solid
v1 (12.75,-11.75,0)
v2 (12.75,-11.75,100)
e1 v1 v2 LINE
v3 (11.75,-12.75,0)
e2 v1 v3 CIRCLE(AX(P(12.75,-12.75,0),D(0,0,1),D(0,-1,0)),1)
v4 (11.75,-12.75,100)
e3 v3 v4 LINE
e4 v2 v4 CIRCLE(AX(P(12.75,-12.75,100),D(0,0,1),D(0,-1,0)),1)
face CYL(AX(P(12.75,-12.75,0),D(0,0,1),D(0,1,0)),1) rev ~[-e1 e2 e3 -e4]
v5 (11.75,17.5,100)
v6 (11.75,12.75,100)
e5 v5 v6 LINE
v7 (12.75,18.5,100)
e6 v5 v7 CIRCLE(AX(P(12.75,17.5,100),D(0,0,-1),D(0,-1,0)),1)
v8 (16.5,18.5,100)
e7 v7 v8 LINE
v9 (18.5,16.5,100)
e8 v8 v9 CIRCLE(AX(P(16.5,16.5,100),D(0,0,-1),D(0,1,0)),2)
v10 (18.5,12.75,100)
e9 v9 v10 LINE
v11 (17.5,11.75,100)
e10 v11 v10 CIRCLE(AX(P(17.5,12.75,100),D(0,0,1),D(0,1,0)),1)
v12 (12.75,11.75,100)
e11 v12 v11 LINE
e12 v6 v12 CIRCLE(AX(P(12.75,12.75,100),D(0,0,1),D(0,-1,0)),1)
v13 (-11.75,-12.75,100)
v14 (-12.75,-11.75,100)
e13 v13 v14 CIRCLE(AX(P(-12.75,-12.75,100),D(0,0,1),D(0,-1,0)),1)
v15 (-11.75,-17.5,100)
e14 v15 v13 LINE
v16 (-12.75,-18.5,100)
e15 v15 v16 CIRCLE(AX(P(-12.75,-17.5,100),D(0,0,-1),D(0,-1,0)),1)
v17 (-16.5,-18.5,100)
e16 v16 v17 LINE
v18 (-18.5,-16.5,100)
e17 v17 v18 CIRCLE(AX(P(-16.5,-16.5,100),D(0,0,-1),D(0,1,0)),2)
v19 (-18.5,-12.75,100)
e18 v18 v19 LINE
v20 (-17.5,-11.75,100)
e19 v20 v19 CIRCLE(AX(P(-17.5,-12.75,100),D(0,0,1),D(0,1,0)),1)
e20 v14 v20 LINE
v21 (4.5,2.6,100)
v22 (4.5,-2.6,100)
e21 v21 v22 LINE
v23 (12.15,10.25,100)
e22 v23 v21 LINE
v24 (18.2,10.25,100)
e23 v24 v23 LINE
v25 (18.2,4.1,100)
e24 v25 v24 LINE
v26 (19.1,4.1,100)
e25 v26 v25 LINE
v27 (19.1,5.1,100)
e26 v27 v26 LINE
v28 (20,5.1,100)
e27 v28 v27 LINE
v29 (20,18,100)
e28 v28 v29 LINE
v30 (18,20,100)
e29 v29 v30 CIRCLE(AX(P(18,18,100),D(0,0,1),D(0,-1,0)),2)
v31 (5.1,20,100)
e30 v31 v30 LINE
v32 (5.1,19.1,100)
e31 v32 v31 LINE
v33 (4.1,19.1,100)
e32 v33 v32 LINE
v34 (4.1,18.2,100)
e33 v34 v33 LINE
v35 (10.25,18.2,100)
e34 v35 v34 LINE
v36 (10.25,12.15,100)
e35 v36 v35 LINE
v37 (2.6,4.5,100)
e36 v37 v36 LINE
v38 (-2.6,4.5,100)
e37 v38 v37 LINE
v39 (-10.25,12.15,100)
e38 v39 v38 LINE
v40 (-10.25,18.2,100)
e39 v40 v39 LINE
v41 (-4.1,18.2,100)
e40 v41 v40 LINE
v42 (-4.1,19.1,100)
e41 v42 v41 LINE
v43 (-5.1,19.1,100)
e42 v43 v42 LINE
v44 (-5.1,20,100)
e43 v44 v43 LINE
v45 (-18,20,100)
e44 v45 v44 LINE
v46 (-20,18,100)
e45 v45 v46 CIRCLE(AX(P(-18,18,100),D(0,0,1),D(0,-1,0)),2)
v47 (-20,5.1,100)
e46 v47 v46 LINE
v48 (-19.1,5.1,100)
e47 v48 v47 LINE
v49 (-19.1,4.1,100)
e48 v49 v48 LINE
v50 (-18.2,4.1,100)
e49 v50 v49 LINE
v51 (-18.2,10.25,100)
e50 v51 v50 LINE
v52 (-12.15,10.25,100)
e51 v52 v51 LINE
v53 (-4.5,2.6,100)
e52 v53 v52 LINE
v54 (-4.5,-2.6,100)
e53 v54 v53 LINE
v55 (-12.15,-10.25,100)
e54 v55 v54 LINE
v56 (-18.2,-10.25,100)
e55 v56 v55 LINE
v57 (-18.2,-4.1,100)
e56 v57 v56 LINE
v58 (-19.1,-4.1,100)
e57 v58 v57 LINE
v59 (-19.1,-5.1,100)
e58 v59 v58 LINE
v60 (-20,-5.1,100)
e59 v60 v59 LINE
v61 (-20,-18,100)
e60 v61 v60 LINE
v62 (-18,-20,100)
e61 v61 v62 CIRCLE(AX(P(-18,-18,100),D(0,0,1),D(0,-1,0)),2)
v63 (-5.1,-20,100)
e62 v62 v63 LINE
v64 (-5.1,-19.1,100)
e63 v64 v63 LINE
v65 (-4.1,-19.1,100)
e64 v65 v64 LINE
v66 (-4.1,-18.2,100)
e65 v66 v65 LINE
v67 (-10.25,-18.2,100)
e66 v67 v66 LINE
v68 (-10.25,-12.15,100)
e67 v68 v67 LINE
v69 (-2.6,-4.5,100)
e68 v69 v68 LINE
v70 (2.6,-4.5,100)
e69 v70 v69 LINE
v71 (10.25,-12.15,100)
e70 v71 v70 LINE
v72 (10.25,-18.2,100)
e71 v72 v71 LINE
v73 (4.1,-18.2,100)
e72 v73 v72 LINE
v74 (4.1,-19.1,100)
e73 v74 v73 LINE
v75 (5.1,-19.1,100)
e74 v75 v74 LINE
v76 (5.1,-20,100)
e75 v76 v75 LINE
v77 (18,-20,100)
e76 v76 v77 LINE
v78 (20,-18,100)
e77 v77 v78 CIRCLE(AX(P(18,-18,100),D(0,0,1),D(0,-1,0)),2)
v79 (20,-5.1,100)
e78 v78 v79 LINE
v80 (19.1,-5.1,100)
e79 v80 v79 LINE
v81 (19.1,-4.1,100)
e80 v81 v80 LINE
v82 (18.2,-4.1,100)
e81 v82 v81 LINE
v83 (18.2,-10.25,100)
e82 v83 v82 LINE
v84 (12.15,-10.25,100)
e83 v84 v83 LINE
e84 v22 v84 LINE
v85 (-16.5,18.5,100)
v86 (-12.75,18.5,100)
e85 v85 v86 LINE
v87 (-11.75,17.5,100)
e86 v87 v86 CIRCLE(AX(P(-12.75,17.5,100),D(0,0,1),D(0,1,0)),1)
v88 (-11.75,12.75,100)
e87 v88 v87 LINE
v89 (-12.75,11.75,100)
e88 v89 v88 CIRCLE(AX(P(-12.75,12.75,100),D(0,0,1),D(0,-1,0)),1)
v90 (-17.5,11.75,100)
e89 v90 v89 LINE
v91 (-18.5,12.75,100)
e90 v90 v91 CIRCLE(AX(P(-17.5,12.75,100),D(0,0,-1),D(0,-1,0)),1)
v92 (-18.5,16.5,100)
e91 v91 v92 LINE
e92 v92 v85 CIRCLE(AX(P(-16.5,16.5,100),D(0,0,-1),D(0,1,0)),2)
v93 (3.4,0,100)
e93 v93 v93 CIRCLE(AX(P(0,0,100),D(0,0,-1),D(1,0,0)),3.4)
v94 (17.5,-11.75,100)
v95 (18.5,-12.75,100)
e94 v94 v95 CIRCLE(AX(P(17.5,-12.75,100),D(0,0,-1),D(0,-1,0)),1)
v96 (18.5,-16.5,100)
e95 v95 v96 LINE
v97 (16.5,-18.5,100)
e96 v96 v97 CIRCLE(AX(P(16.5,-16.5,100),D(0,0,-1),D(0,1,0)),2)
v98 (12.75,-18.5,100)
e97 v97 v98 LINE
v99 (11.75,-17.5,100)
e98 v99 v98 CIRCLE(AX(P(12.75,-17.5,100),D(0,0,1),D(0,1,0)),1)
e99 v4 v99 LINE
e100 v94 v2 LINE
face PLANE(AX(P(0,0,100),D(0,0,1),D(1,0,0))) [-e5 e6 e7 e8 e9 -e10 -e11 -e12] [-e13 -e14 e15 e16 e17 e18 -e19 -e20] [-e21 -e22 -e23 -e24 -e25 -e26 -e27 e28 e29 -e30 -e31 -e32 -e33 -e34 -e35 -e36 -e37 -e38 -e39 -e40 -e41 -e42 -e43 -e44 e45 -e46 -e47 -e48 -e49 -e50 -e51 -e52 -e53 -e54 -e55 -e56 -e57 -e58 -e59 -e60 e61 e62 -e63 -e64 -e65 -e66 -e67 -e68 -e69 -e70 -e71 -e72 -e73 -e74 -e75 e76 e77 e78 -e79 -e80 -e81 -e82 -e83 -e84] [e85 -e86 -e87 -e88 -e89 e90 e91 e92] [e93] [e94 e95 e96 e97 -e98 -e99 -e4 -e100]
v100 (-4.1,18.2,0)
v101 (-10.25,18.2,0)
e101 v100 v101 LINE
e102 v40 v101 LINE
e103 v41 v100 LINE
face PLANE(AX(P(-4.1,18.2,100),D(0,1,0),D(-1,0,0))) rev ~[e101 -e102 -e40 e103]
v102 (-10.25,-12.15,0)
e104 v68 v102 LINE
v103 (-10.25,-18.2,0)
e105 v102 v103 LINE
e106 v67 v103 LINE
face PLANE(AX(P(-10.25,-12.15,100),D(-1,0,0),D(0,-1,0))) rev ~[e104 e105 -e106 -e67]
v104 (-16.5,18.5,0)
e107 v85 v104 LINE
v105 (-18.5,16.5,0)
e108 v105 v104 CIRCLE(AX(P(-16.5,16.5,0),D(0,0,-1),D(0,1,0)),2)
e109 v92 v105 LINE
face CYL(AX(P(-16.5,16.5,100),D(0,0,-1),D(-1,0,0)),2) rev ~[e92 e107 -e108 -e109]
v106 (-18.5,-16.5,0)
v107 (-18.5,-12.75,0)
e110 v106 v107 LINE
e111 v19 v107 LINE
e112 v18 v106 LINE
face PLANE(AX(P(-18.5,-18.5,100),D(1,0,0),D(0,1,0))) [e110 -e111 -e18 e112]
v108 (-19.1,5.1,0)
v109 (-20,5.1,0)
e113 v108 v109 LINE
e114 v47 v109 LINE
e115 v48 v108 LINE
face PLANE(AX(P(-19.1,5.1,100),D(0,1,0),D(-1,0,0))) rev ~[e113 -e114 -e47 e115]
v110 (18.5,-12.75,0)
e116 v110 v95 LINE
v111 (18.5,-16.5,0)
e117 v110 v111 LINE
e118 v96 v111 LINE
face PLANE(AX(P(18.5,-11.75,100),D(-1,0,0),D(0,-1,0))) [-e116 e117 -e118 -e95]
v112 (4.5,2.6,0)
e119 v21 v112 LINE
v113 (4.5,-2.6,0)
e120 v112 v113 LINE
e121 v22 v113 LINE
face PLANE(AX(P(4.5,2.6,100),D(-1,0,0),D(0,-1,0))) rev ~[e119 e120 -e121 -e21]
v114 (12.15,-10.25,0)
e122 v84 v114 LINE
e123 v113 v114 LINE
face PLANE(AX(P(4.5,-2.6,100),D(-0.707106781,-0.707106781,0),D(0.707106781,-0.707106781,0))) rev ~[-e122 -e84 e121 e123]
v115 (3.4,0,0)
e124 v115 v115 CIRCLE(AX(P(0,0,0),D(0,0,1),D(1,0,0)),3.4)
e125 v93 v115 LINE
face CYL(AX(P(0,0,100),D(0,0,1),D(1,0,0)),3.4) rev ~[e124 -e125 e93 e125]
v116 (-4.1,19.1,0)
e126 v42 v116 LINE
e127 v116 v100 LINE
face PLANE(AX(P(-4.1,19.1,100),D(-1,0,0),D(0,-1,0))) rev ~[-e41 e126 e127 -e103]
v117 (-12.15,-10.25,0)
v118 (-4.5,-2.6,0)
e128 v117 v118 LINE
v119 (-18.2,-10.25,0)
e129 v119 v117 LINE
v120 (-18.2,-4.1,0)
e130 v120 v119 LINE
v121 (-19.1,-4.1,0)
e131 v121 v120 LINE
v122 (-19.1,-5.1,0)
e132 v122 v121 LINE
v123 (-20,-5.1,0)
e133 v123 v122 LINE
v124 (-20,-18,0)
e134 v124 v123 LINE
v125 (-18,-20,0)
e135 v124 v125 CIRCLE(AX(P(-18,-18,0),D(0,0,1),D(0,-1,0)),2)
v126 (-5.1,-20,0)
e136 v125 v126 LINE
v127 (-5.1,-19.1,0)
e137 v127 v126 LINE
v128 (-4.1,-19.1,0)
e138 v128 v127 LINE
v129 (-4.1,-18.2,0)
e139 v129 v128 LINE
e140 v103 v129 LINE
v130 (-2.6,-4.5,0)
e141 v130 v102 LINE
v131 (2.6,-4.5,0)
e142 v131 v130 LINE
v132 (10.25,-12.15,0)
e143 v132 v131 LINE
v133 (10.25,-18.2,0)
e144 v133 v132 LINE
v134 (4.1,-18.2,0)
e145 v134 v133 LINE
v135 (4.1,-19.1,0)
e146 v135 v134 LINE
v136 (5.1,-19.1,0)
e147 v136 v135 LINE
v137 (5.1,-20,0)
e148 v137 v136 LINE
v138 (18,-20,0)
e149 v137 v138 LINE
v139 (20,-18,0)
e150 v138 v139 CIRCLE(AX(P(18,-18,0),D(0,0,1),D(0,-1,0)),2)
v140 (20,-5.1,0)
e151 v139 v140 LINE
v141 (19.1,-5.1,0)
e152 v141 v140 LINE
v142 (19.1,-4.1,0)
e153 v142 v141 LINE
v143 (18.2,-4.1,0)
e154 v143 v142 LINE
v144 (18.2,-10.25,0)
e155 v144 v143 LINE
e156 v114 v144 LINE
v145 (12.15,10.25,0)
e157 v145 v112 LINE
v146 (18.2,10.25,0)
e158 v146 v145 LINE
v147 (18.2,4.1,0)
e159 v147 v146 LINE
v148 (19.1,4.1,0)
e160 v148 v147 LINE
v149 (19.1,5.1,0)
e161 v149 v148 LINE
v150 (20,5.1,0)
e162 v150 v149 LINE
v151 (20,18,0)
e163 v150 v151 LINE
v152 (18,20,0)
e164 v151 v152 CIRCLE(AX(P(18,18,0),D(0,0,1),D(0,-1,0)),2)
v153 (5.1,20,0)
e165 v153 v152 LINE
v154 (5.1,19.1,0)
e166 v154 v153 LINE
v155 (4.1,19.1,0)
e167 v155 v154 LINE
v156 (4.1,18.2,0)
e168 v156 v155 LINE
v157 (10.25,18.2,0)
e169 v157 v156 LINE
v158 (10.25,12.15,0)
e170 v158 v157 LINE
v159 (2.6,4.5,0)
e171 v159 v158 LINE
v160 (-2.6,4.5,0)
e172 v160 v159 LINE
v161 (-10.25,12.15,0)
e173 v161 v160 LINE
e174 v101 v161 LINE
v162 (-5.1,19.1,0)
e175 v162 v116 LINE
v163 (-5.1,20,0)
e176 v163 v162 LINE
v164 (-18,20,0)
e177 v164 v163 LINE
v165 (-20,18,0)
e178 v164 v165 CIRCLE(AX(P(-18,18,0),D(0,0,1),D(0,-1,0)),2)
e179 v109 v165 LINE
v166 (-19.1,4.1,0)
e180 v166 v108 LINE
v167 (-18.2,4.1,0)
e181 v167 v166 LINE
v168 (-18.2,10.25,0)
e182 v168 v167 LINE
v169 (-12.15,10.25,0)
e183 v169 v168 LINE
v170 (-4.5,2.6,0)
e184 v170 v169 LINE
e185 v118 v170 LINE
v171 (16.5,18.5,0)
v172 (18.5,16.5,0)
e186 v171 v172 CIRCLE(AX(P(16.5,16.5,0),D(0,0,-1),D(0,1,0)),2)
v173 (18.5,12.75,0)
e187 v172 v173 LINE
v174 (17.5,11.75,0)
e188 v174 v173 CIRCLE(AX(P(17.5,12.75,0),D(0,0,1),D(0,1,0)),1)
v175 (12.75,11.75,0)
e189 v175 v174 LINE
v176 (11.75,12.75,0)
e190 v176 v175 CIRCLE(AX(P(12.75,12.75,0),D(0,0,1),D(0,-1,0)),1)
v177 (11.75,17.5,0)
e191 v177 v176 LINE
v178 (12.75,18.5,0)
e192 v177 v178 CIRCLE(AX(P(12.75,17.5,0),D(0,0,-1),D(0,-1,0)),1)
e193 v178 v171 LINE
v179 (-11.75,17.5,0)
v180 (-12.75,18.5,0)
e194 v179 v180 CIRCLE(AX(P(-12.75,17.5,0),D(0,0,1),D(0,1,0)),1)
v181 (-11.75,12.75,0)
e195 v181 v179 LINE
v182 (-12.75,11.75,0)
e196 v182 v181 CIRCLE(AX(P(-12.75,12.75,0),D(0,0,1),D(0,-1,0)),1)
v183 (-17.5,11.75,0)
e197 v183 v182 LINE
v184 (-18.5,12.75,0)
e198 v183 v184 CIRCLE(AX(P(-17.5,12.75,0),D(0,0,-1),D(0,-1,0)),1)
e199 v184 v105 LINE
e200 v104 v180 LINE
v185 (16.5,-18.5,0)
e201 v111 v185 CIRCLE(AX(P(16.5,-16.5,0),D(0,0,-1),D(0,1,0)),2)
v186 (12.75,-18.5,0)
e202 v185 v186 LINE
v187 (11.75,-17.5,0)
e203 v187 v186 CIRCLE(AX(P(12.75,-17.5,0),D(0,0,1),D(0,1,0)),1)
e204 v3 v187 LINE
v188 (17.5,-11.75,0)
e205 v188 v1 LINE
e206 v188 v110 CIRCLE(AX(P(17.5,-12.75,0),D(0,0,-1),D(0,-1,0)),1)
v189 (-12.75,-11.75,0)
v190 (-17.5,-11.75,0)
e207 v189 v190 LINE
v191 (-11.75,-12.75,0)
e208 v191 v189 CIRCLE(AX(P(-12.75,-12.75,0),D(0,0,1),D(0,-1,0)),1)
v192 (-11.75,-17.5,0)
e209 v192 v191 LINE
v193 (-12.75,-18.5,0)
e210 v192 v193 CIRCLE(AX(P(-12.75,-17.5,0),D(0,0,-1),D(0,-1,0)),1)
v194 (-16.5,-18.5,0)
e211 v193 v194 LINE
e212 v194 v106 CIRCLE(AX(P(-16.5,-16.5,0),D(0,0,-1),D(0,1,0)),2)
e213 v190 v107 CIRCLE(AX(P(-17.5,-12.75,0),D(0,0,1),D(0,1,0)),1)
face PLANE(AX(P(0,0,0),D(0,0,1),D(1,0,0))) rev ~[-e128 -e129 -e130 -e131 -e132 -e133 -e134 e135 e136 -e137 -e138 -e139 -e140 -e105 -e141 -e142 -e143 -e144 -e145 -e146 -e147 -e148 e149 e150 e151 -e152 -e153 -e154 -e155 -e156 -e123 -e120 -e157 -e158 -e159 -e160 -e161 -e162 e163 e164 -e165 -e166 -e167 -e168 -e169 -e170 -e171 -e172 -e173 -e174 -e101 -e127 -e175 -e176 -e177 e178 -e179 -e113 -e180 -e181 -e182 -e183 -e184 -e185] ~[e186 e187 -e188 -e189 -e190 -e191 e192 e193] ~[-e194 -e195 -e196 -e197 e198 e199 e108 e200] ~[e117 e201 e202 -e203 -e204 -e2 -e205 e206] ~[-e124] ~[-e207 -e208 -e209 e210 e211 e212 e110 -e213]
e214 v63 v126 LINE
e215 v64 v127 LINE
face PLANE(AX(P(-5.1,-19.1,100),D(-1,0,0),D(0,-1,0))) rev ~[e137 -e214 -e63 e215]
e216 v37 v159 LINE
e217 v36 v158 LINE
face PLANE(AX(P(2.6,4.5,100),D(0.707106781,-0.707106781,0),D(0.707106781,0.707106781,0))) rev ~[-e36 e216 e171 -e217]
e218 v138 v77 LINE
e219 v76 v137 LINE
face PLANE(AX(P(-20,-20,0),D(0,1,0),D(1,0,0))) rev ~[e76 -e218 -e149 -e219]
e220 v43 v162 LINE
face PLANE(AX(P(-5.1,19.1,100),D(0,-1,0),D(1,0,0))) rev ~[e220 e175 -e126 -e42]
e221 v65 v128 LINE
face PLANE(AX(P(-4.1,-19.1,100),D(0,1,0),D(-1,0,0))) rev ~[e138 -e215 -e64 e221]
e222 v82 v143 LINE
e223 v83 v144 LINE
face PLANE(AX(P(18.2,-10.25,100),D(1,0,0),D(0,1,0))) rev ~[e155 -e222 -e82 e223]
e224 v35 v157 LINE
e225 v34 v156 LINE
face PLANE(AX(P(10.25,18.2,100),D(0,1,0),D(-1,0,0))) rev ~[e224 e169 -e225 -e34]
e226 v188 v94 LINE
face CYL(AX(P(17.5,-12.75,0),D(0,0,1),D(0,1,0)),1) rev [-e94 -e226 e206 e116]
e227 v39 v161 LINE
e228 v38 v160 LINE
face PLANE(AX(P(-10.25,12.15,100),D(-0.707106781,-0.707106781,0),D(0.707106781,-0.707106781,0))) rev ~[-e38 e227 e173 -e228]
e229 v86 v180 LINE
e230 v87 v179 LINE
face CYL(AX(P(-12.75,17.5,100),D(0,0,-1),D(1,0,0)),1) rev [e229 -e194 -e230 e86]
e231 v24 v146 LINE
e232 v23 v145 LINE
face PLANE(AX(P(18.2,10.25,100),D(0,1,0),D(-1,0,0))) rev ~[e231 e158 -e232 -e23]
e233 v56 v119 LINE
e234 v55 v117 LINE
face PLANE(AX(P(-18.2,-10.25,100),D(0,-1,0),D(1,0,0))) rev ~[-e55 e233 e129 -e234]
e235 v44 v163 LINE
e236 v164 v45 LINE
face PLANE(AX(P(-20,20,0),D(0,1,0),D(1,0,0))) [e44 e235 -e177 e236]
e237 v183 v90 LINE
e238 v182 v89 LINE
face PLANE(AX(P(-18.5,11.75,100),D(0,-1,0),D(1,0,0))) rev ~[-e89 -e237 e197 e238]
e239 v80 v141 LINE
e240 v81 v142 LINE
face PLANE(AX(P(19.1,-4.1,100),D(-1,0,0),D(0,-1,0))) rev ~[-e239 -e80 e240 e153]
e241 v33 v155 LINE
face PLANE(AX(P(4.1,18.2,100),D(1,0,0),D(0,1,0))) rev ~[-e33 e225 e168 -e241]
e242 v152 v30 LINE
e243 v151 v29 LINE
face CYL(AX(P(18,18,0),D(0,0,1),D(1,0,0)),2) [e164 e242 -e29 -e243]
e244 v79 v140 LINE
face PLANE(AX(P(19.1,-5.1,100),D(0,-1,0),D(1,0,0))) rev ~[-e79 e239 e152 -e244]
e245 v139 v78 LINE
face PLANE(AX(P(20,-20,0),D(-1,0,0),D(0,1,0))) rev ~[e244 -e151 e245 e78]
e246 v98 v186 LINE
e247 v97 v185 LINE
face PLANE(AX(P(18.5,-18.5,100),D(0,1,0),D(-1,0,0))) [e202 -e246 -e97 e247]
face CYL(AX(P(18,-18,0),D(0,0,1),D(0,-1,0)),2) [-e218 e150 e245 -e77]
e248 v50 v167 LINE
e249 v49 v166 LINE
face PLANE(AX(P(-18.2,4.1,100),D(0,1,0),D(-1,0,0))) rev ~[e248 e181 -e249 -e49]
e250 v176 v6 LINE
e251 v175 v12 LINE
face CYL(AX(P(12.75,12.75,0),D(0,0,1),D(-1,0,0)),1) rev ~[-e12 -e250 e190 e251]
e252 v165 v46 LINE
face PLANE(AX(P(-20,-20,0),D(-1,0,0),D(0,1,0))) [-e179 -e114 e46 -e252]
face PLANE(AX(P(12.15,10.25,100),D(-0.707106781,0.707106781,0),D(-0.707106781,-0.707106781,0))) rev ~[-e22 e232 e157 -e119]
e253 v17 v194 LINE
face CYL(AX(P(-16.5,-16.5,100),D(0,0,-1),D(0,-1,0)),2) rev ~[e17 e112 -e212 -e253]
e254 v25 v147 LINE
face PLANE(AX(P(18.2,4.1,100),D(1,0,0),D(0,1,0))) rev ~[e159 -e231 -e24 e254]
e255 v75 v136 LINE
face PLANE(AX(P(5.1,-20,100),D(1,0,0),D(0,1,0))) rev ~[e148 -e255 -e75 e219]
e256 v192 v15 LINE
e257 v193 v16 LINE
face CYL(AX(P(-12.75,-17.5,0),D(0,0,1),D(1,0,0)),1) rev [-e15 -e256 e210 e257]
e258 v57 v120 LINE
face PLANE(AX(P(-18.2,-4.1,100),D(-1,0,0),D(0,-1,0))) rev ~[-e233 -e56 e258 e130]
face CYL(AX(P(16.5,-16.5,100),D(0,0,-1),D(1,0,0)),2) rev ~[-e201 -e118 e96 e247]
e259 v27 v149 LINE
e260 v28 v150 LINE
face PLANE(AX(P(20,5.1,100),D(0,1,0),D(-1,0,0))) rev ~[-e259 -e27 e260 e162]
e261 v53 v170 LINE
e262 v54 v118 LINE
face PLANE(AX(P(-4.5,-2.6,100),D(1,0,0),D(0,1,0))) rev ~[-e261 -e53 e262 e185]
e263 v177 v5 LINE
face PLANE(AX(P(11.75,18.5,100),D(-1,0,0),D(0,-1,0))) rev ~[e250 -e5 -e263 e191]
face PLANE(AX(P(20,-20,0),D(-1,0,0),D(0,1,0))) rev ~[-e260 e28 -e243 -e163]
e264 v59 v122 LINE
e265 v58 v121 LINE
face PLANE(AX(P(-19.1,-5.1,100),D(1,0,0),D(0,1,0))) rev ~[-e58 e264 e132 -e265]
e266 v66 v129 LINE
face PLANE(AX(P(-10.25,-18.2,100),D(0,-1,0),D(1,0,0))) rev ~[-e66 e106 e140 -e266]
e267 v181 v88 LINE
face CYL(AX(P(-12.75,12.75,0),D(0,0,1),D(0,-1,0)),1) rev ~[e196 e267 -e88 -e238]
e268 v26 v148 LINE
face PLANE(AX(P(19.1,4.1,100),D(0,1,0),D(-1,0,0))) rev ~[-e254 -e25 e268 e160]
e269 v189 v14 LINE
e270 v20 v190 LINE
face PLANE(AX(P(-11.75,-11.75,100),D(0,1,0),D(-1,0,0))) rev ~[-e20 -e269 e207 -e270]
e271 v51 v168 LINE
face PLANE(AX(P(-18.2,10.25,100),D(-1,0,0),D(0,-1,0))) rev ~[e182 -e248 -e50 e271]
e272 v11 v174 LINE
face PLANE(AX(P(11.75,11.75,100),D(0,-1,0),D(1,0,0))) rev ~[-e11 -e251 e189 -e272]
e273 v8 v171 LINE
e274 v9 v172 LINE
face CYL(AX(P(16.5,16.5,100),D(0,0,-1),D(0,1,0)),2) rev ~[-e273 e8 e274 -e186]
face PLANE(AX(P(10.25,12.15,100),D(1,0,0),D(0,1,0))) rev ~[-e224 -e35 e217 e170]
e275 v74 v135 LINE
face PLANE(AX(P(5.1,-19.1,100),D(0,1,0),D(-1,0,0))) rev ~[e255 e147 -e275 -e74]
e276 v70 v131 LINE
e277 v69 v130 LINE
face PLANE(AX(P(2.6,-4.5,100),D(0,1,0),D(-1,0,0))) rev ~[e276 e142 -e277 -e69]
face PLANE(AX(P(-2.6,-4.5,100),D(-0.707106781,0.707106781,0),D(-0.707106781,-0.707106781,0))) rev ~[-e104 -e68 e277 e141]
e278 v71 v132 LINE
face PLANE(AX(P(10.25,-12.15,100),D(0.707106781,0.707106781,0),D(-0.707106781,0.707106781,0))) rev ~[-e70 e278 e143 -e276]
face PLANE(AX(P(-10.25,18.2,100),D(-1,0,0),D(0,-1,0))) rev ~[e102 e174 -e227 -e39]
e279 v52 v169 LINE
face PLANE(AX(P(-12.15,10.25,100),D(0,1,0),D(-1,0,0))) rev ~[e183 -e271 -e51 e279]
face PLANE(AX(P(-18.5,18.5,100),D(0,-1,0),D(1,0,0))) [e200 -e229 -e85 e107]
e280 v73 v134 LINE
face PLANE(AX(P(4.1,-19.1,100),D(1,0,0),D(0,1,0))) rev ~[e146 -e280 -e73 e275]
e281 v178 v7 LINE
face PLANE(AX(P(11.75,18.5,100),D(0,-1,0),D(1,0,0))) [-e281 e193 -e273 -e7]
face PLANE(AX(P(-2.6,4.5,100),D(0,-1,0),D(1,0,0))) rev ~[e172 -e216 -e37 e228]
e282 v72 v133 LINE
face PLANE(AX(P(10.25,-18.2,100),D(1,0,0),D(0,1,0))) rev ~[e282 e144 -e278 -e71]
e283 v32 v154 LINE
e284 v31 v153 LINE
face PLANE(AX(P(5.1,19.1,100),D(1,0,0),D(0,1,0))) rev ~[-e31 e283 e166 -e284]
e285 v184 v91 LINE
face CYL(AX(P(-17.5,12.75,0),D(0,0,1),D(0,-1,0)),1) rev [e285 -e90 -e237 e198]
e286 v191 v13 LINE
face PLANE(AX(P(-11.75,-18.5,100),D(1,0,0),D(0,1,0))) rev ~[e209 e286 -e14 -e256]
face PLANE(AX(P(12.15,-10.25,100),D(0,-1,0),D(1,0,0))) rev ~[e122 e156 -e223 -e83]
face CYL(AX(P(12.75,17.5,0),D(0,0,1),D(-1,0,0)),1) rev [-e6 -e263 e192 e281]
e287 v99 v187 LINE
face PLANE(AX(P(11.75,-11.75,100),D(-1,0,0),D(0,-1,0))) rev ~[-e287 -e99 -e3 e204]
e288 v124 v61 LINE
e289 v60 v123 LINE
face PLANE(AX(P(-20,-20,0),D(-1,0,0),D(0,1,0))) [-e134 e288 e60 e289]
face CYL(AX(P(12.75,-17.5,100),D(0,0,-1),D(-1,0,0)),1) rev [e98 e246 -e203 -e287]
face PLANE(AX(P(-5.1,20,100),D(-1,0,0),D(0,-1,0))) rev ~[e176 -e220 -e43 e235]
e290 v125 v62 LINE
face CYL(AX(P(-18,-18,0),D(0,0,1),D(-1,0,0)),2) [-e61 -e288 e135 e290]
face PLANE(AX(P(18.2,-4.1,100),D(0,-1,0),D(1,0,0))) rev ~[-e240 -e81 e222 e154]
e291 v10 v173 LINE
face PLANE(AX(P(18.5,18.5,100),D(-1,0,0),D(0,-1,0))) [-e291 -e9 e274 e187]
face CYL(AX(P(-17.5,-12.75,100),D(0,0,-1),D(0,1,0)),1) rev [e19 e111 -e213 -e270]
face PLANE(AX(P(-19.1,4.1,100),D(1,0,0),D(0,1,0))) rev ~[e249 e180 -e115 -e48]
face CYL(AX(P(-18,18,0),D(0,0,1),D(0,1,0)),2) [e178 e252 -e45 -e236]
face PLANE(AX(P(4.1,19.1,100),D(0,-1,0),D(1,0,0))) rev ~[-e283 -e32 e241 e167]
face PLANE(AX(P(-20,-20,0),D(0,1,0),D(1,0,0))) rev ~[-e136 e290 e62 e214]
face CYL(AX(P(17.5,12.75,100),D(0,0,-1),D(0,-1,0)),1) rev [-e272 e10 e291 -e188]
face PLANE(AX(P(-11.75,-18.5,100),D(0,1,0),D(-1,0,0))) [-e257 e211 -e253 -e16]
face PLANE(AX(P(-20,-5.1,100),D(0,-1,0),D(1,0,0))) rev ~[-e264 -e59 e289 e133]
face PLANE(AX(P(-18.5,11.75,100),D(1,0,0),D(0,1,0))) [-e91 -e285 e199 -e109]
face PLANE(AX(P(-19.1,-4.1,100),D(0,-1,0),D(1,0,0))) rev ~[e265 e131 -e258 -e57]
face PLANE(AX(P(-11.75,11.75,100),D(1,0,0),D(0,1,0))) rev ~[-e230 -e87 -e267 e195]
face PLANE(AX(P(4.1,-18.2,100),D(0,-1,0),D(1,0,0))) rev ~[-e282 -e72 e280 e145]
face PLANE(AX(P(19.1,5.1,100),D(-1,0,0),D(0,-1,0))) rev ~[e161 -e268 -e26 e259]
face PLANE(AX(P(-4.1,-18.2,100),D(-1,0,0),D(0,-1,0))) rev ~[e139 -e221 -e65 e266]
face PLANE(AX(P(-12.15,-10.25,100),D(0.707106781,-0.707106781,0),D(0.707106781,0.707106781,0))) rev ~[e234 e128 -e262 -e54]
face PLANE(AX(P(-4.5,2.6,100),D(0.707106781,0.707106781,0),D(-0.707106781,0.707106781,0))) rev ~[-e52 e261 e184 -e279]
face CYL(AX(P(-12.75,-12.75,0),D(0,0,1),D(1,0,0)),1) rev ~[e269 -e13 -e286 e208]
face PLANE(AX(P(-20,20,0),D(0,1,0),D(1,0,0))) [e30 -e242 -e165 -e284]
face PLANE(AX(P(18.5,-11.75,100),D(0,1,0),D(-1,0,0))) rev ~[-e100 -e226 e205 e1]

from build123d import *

# Parameters (mm, degrees)
SKETCH_1_W                       = 40
SKETCH_1_H                       = 40
EXTRUDE_1_DEPTH                  = 100
SKETCH_2_R                       = 3.4
CUT_EXTRUDE_1_DEPTH              = 104.923048454
PATTERN_CIRCULAR_1_COUNT         = 4
FILLET_1_R                       = 2
SKETCH_4_W                       = 6.75
SKETCH_4_H                       = 6.75
CUT_EXTRUDE_2_DEPTH              = 104.923048454
FILLET_2_R                       = 1
FILLET_4_R                       = 2
PATTERN_CIRCULAR_2_COUNT         = 4
FILLET_2_OF_PATTERN_CIRCULAR_2_R = 1
FILLET_4_OF_PATTERN_CIRCULAR_2_R = 2


with BuildPart() as part:
    # 草图1 → 凸台-拉伸1 (new body)
    with BuildSketch(Plane.XY):
        Rectangle(SKETCH_1_W, SKETCH_1_H)
    extrude(amount=EXTRUDE_1_DEPTH)

    # 草图2 → 切除-拉伸1 (cut, through all)
    with BuildSketch(Plane.XY.offset(100)):
        Polygon((-20, -5.1), (-19.1, -5.1), (-19.1, -4.1), (-18.2, -4.1), (-18.2, -10.25), (-12.15, -10.25), (-4.5, -2.6), (-4.5, 2.6), (-12.15, 10.25), (-18.2, 10.25), (-18.2, 4.1), (-19.1, 4.1), (-19.1, 5.1), (-20, 5.1), align=None)
        Circle(SKETCH_2_R)
    cut_extrude_1 = extrude(amount=-CUT_EXTRUDE_1_DEPTH, mode=Mode.SUBTRACT)

    # 阵列(圆周)1: 切除-拉伸1 ×4 about axis
    pattern_circular_1_axis = Axis((0, 0, 0), (0, 0, 1))
    for i in range(1, PATTERN_CIRCULAR_1_COUNT):
        add(cut_extrude_1.rotate(pattern_circular_1_axis, i * 360 / PATTERN_CIRCULAR_1_COUNT), mode=Mode.SUBTRACT)

    # 圆角1
    fillet_1_edges = [part.edges().sort_by_distance(p)[0] for p in [
        (-20, -20, 50),
        (20, -20, 50),
        (20, 20, 50),
        (-20, 20, 50),
    ]]
    fillet(fillet_1_edges, radius=FILLET_1_R)

    # 草图4 → 切除-拉伸2 (cut, symmetric)
    with BuildSketch(Plane.XY.offset(100)):
        with Locations((-15.125, 15.125)):
            Rectangle(SKETCH_4_W, SKETCH_4_H)
    cut_extrude_2 = extrude(amount=CUT_EXTRUDE_2_DEPTH, both=True, mode=Mode.SUBTRACT)

    # 圆角2
    fillet_2_edges = [part.edges().sort_by_distance(p)[0] for p in [
        (-11.75, 18.5, 50),
        (-11.75, 11.75, 50),
        (-18.5, 11.75, 50),
    ]]
    fillet(fillet_2_edges, radius=FILLET_2_R)

    # 圆角4
    fillet_4_edges = [part.edges().sort_by_distance(p)[0] for p in [
        (-18.5, 18.5, 50),
    ]]
    fillet(fillet_4_edges, radius=FILLET_4_R)

    # 阵列(圆周)2: 切除-拉伸2 ×4 about axis
    pattern_circular_2_axis = Axis((0, 0, 0), (0, 0, 1))
    for i in range(1, PATTERN_CIRCULAR_2_COUNT):
        add(cut_extrude_2.rotate(pattern_circular_2_axis, i * 360 / PATTERN_CIRCULAR_2_COUNT), mode=Mode.SUBTRACT)

    # 圆角2 of 阵列(圆周)2
    fillet_2_of_pattern_circular_2_edges = [part.edges().sort_by_distance(p)[0] for p in [
        (-18.5, -11.75, 50),
        (-11.75, -11.75, 50),
        (-11.75, -18.5, 50),
        (11.75, -18.5, 50),
        (11.75, -11.75, 50),
        (18.5, -11.75, 50),
        (18.5, 11.75, 50),
        (11.75, 11.75, 50),
        (11.75, 18.5, 50),
    ]]
    fillet(fillet_2_of_pattern_circular_2_edges, radius=FILLET_2_OF_PATTERN_CIRCULAR_2_R)

    # 圆角4 of 阵列(圆周)2
    fillet_4_of_pattern_circular_2_edges = [part.edges().sort_by_distance(p)[0] for p in [
        (-18.5, -18.5, 50),
        (18.5, -18.5, 50),
        (18.5, 18.5, 50),
    ]]
    fillet(fillet_4_of_pattern_circular_2_edges, radius=FILLET_4_OF_PATTERN_CIRCULAR_2_R)


solid = part.part
